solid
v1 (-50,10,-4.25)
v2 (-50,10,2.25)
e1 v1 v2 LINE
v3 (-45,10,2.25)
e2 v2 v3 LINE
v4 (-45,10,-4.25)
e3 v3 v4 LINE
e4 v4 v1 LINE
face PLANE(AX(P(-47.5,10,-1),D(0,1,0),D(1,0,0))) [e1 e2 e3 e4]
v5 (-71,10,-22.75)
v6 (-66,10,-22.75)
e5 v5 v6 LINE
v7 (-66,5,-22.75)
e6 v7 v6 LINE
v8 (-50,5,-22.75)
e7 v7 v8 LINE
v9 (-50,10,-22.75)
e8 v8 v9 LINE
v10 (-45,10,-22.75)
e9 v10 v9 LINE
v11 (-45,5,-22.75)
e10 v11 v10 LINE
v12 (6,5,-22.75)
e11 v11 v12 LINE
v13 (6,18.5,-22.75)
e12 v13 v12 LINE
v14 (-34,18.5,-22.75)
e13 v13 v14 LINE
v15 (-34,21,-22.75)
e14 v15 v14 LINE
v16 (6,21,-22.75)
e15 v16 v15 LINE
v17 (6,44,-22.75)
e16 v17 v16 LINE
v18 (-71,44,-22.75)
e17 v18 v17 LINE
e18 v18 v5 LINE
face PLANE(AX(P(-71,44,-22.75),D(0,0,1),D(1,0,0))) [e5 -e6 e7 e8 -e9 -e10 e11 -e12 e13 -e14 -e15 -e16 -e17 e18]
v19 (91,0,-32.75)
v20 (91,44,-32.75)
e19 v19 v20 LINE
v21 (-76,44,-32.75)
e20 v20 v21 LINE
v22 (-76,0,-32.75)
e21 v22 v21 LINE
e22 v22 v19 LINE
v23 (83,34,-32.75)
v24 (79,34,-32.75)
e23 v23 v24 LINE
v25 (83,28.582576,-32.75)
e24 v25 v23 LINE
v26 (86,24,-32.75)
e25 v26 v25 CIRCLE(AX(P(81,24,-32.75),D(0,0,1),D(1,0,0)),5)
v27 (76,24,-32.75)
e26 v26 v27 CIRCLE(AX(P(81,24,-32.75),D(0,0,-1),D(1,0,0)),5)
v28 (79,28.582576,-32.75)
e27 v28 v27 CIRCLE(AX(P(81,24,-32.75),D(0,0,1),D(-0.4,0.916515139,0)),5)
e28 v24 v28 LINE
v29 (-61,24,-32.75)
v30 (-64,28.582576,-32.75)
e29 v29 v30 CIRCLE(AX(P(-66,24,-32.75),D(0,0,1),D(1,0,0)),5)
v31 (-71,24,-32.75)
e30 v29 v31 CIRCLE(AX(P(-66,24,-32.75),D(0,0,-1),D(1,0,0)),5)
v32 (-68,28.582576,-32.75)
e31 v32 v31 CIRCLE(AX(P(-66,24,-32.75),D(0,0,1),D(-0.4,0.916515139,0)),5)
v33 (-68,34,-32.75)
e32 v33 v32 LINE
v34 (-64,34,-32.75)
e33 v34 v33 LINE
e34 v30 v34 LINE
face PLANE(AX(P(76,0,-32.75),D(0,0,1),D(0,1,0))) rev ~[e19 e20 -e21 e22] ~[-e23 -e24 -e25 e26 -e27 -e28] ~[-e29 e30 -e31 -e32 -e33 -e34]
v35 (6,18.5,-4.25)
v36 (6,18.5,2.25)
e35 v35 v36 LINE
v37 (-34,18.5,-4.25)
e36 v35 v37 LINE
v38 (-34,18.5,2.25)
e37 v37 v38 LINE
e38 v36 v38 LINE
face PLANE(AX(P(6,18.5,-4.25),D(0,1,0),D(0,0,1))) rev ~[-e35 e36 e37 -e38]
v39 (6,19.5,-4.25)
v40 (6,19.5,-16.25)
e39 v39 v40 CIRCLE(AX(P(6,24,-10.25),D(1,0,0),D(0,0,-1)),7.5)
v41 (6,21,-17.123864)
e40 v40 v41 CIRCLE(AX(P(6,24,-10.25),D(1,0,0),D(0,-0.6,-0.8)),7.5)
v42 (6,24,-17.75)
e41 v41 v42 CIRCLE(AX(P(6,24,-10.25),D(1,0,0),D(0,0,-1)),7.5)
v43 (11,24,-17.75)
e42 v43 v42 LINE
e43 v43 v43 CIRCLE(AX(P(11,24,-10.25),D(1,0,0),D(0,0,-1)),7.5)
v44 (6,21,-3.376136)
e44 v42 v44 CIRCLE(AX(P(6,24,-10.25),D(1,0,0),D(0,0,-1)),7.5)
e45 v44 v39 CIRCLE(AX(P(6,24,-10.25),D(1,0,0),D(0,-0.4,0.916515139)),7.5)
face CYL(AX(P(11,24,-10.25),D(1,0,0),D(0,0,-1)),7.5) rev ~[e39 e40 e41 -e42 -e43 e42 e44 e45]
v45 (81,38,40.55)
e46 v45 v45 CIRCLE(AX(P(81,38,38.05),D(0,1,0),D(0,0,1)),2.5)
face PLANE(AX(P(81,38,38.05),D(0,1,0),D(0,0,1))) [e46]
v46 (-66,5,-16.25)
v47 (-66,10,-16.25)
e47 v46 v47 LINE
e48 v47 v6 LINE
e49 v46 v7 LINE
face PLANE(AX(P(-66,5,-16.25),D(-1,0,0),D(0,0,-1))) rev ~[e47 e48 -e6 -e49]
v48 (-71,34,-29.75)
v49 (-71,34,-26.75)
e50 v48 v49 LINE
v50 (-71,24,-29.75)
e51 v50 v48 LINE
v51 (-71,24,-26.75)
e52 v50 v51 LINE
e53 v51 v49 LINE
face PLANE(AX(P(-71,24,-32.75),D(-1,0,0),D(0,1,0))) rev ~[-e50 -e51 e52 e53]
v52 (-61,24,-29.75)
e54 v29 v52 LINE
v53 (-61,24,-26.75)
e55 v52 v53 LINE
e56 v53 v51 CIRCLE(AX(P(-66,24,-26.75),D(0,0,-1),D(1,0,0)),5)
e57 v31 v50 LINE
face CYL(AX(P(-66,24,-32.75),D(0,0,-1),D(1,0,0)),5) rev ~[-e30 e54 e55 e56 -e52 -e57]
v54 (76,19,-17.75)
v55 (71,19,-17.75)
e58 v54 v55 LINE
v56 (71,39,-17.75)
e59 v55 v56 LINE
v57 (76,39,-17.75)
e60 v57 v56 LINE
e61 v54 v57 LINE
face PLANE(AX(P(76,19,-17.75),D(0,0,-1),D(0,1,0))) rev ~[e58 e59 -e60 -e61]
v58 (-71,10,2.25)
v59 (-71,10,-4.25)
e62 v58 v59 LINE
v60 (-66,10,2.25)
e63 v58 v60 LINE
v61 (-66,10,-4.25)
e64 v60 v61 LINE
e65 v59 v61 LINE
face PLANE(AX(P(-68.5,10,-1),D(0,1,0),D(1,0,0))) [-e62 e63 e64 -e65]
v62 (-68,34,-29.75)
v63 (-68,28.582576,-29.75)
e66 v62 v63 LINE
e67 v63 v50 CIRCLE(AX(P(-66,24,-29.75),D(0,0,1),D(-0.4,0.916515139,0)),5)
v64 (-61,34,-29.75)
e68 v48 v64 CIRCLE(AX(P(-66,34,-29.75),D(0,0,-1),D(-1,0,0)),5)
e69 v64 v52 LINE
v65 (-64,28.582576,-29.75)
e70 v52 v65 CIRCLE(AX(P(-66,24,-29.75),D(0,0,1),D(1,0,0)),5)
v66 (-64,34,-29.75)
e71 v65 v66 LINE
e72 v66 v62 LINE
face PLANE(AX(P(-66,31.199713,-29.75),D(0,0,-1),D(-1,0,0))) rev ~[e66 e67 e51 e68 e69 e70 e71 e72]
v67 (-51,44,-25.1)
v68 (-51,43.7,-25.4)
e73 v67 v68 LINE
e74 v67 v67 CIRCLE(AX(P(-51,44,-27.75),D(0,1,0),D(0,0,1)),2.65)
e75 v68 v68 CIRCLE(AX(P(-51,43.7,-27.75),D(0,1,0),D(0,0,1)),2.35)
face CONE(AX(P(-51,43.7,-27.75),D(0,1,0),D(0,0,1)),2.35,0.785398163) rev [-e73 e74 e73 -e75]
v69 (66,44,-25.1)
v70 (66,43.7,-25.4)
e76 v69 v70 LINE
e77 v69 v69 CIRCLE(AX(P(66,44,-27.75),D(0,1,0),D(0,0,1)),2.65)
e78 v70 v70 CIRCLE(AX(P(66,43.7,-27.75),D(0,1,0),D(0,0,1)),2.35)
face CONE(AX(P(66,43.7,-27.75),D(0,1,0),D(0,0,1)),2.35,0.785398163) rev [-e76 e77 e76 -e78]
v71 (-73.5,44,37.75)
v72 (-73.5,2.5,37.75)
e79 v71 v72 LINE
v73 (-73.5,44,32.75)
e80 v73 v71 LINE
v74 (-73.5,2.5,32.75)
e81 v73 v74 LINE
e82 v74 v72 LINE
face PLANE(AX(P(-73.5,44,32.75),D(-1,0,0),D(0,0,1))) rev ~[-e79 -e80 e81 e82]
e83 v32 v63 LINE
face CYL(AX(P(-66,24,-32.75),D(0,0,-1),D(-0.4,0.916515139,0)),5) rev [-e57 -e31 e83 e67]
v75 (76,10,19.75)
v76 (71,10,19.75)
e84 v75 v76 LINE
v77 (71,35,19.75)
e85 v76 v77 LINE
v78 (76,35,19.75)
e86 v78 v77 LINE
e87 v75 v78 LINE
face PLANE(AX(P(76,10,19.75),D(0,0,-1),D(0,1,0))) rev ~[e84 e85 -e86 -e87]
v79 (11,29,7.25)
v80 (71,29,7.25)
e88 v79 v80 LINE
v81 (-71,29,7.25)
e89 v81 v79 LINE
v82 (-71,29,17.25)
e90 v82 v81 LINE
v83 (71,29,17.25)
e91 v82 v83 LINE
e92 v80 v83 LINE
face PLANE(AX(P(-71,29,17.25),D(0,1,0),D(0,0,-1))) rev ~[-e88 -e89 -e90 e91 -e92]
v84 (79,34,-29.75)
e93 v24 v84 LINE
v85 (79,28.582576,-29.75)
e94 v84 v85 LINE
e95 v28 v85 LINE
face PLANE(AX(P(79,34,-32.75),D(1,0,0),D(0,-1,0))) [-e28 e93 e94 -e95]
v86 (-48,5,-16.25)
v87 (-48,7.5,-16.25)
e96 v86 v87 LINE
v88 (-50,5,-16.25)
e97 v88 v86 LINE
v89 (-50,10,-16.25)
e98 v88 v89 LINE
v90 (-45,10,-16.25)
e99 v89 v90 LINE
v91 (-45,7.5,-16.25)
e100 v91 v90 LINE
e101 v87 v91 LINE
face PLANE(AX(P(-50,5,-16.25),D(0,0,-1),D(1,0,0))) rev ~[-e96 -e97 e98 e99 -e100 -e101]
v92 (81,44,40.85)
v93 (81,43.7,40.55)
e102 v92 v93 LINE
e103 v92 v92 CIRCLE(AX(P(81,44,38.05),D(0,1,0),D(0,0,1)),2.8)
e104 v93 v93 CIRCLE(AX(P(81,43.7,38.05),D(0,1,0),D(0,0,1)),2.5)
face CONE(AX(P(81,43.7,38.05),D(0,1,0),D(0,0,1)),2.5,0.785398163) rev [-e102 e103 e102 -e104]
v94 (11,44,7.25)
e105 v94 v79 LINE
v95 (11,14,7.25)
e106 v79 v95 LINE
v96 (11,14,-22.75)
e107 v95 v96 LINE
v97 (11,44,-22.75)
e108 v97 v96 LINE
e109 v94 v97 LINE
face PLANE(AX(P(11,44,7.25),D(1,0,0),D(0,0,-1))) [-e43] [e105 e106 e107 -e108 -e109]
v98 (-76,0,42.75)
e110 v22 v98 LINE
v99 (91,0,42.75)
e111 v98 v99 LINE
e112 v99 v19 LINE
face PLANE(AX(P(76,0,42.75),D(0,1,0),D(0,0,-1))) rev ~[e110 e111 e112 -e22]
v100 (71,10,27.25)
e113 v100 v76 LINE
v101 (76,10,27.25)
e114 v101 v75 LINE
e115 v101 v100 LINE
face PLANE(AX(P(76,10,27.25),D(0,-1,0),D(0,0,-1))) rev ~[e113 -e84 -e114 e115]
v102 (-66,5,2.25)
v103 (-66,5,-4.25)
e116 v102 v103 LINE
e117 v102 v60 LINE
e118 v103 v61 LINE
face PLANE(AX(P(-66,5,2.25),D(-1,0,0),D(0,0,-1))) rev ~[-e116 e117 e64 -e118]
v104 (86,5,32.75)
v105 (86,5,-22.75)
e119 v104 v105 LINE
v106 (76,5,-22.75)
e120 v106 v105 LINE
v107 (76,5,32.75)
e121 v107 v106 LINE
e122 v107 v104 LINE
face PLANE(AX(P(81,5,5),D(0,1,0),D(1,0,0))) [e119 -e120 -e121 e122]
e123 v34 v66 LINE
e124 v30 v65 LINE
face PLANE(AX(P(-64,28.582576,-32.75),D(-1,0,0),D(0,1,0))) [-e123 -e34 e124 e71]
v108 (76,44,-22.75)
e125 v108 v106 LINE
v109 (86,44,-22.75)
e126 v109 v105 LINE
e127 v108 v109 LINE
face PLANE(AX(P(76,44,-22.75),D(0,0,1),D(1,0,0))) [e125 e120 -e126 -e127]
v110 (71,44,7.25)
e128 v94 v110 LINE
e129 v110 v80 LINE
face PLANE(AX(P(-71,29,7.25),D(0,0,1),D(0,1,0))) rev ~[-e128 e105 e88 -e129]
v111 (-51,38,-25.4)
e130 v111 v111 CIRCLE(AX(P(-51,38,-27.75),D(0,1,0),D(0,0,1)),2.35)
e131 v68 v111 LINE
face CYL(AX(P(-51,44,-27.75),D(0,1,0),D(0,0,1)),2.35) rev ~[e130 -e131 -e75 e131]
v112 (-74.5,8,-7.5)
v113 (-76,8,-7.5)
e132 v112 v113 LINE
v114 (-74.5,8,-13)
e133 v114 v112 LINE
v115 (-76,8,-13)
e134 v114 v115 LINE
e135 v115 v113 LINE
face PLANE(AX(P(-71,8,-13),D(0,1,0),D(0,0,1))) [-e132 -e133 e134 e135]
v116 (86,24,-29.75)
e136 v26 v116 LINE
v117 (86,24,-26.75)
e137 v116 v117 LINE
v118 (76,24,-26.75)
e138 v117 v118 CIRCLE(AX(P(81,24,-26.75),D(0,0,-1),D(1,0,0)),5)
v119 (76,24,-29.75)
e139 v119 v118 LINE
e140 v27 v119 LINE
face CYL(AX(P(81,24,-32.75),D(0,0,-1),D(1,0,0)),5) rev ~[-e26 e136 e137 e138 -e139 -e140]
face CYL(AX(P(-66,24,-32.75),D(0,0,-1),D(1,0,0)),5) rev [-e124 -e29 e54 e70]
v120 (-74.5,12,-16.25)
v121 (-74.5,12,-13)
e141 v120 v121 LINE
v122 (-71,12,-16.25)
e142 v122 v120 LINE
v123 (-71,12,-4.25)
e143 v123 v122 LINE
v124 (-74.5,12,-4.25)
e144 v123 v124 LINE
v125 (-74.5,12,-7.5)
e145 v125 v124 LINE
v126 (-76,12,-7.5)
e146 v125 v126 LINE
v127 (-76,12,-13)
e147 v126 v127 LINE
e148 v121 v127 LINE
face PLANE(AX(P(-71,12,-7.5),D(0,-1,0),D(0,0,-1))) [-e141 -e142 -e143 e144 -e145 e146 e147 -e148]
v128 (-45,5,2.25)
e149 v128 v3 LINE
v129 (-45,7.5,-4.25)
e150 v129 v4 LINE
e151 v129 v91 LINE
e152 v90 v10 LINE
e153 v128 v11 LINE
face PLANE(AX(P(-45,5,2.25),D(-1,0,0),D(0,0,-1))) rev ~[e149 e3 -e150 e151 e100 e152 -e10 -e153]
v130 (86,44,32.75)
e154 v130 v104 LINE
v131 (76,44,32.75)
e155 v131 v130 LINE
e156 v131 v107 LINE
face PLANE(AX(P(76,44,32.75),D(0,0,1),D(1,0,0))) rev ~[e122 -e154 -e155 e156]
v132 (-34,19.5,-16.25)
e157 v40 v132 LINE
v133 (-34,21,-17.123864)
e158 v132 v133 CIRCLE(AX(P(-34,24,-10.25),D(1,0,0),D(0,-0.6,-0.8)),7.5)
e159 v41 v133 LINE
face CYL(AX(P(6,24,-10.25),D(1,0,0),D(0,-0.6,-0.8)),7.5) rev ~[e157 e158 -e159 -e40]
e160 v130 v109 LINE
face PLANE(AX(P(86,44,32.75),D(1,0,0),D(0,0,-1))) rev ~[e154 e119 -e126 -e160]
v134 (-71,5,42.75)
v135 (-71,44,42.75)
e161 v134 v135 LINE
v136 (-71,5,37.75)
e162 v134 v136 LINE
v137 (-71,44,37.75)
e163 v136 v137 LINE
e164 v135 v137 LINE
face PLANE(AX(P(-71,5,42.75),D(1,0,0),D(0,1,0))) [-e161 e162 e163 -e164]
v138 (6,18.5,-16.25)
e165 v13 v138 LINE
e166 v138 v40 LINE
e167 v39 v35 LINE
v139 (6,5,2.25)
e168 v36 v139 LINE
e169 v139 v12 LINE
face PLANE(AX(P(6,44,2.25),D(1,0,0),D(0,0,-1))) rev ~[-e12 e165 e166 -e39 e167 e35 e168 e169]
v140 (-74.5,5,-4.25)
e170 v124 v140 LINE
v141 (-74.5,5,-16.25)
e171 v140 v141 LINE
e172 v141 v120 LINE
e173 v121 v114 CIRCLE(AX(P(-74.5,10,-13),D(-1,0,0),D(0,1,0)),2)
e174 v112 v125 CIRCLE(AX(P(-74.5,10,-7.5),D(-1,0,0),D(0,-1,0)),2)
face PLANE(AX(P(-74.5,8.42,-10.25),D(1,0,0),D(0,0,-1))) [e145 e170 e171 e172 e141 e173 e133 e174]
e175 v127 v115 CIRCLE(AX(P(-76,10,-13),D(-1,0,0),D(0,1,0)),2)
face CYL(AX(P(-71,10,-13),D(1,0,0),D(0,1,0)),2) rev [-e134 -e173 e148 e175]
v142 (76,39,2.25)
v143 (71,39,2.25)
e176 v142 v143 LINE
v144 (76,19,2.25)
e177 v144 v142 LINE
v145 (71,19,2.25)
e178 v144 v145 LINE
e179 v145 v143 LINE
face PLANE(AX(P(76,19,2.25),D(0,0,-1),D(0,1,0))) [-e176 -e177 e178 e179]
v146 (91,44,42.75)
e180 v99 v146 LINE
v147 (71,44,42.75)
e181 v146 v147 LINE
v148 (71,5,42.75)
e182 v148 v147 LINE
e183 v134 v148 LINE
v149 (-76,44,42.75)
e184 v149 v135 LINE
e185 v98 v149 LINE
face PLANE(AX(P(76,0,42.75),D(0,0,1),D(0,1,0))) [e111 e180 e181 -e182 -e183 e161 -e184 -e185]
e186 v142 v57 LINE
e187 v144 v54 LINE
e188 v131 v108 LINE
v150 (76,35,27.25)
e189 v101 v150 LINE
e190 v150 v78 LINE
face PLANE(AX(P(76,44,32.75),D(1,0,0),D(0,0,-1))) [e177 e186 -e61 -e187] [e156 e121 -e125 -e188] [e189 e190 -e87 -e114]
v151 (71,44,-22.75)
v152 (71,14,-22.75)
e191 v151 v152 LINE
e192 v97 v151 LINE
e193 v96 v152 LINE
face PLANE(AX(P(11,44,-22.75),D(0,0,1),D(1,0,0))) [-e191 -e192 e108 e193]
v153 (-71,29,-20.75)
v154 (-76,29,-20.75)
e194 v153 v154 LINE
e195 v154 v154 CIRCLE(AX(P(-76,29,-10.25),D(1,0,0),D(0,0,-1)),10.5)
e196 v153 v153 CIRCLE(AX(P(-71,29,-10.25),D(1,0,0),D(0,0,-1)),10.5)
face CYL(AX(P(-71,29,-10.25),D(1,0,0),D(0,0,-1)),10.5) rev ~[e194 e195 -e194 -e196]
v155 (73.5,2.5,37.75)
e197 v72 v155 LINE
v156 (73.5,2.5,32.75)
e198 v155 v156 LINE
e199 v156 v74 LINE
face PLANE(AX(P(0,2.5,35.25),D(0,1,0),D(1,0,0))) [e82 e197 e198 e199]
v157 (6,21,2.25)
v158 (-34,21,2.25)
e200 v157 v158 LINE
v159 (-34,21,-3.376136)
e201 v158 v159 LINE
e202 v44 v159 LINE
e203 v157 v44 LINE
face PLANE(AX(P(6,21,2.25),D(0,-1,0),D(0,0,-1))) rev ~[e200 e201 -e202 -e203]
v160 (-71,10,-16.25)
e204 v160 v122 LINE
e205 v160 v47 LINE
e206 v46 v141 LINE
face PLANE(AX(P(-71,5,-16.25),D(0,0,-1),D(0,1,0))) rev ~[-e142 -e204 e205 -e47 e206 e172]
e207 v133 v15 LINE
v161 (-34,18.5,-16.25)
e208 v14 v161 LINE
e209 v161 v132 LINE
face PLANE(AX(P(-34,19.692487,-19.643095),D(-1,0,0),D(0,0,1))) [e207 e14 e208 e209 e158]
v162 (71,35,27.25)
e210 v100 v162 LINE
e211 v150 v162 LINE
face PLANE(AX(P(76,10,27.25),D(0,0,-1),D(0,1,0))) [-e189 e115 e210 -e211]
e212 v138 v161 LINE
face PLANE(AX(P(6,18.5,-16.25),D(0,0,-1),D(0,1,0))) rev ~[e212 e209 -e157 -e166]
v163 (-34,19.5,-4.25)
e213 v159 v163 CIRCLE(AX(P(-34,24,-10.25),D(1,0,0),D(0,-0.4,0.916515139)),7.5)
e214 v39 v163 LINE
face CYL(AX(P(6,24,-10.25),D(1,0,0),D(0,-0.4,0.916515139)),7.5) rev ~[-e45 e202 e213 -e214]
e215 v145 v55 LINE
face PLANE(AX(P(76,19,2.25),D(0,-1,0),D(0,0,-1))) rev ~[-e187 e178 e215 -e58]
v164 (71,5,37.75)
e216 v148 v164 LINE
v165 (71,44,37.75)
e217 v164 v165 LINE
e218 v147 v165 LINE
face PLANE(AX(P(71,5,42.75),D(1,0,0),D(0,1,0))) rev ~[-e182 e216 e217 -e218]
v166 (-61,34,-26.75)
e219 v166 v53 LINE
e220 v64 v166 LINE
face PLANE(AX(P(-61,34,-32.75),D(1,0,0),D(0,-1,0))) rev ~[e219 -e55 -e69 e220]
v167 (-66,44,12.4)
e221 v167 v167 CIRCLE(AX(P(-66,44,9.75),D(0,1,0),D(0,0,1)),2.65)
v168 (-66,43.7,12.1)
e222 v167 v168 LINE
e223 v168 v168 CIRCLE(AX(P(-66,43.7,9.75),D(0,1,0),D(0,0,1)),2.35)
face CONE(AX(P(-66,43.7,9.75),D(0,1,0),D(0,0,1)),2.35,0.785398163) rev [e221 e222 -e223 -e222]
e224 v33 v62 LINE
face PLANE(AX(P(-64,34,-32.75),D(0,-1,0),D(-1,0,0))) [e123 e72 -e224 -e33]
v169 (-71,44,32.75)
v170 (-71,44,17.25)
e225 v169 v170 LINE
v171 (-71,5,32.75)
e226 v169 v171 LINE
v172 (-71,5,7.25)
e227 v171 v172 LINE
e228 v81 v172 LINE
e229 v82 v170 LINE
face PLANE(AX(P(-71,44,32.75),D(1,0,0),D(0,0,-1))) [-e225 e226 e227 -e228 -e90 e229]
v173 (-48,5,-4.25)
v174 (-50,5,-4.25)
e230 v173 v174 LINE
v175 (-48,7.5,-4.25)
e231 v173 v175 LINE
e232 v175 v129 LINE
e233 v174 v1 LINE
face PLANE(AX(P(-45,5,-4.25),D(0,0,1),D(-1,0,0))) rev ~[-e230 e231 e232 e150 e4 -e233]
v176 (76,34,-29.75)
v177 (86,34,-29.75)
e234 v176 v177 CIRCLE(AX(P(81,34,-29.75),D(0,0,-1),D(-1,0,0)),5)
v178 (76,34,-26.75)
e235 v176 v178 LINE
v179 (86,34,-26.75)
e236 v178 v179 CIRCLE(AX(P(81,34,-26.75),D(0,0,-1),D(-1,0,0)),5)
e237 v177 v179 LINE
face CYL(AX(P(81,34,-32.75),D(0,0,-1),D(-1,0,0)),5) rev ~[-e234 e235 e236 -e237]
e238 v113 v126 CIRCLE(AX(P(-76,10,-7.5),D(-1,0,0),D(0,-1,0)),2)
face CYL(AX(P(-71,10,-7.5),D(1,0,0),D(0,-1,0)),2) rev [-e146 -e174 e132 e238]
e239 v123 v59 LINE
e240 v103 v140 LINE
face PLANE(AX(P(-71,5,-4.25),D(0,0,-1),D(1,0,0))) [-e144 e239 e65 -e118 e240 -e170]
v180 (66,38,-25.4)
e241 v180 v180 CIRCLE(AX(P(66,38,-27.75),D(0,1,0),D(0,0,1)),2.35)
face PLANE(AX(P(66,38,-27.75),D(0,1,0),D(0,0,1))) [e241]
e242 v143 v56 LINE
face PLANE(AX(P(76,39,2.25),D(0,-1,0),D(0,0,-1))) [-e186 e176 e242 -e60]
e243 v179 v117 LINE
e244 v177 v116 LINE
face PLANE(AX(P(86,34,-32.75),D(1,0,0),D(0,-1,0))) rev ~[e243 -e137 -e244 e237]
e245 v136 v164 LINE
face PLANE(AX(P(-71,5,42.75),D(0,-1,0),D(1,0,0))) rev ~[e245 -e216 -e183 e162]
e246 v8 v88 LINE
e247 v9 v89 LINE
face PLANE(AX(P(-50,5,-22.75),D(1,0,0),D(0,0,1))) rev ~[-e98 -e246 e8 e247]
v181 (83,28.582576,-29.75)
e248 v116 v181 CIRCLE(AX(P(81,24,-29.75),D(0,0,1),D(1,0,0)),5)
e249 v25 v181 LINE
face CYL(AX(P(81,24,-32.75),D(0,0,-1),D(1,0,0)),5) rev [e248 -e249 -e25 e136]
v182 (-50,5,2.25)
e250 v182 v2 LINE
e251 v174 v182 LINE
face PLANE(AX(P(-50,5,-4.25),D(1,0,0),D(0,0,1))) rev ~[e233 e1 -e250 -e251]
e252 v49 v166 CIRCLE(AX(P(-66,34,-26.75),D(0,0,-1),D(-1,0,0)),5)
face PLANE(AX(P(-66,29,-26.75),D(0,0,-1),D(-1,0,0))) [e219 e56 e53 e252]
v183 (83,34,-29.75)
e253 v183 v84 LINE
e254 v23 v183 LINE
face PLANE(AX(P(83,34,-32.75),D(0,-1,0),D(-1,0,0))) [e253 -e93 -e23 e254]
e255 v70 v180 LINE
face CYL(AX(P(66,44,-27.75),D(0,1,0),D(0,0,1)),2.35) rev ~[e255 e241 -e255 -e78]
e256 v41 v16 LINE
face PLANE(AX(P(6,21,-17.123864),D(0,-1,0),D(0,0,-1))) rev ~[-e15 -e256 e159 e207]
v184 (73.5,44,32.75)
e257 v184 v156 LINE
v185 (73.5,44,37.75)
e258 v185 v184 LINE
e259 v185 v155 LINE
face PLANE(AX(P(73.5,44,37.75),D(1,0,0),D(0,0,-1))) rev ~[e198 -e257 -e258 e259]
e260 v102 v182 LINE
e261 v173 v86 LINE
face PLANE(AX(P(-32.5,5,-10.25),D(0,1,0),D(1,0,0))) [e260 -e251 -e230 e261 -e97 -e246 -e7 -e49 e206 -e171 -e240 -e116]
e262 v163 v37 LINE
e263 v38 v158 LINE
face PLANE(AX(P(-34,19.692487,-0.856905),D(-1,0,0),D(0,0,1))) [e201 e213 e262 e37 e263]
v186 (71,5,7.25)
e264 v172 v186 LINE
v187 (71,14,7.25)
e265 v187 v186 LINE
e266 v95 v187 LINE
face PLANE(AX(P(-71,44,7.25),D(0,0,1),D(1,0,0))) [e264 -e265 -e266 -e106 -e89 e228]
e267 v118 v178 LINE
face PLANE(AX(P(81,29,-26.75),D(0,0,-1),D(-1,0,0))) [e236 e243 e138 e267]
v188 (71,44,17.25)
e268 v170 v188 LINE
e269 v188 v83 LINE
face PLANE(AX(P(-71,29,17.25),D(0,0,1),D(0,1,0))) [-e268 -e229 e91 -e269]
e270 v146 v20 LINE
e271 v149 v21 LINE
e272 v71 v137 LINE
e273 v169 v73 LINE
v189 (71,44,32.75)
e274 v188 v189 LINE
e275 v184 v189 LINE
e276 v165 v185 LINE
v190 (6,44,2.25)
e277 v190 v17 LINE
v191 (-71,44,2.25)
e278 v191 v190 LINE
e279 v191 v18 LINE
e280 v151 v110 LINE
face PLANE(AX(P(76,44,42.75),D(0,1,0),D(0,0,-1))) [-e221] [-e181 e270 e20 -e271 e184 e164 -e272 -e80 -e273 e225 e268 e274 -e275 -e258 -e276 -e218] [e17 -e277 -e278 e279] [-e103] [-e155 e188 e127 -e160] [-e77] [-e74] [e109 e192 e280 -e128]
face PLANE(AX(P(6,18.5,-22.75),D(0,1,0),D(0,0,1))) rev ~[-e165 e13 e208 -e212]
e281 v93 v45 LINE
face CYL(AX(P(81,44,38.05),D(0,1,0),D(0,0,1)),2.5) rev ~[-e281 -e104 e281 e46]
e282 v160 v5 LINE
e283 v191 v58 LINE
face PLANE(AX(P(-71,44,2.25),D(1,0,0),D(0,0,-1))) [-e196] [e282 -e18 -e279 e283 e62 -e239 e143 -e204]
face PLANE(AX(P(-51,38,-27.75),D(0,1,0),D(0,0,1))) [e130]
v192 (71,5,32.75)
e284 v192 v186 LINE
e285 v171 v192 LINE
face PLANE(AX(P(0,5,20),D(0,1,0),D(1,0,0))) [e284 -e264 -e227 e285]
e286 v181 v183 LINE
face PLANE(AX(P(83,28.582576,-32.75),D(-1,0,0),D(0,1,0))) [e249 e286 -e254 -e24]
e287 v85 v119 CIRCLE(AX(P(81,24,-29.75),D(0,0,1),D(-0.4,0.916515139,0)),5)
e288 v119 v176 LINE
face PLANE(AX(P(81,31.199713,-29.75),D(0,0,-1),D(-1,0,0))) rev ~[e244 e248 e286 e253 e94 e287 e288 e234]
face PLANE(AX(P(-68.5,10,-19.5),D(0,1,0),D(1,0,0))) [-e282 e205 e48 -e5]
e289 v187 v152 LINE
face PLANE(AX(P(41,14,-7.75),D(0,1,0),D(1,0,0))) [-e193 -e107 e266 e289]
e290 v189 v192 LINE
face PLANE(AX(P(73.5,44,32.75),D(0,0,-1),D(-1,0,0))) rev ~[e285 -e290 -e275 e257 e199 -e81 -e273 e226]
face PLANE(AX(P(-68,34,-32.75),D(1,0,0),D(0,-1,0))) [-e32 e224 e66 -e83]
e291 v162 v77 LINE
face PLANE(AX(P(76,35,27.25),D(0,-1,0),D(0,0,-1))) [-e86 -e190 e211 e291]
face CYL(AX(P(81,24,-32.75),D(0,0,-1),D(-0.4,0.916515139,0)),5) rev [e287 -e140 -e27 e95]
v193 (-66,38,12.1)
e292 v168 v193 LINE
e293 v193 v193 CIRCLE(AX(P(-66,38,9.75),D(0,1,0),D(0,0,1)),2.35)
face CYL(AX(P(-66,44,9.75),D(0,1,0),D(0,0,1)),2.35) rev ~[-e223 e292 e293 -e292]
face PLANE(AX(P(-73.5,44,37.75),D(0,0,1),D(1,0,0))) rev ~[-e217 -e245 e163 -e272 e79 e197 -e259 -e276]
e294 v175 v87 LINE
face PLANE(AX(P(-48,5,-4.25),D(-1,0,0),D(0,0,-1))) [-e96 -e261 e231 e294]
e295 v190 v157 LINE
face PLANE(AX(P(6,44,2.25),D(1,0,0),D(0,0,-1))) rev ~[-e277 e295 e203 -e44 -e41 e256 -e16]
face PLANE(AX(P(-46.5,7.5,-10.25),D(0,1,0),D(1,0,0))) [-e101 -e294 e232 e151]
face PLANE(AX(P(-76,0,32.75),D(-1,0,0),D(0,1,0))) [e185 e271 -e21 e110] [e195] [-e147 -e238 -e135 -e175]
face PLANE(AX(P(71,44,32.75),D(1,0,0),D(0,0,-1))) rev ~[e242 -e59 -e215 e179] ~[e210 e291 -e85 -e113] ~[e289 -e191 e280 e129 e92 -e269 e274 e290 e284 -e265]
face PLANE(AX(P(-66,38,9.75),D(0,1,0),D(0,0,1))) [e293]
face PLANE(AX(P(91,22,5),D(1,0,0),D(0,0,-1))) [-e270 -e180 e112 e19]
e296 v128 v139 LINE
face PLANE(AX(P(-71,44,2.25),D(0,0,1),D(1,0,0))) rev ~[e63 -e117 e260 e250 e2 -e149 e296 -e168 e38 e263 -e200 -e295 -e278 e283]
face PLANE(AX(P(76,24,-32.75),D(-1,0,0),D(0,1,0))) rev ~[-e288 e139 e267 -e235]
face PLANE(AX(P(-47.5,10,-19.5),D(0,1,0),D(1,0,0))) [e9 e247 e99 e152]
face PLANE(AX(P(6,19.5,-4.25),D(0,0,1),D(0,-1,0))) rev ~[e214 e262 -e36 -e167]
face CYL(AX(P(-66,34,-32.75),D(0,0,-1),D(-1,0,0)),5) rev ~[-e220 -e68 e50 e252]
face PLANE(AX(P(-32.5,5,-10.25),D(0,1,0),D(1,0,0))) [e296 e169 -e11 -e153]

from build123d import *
from build123d.topology import SkipClean

# Parameters (mm, degrees)
SKETCH1_W           = 152
SKETCH1_H           = 65.5
BOSS_EXTRUDE1_DEPTH = 44
SKETCH2_W           = 142
SKETCH2_H           = 25.5
CUT_EXTRUDE1_DEPTH  = 39
SKETCH4_W           = 60
SKETCH4_H           = 30
CUT_EXTRUDE2_DEPTH  = 30
BOSS_EXTRUDE3_REACH = 158.9
SKETCH5_W           = 10
SKETCH5_H           = 15
SKETCH9_W           = 152
SKETCH9_H           = 44
BOSS_EXTRUDE4_DEPTH = 10
CUT_EXTRUDE5_DEPTH  = 41.5
SKETCH11_W          = 142
SKETCH11_H          = 39
CUT_EXTRUDE6_DEPTH  = 5
SKETCH16_W          = 77
SKETCH16_H          = 25
CUT_EXTRUDE8_DEPTH  = 39
SKETCH17_R          = 10.5
CUT_EXTRUDE9_DEPTH  = 5
SKETCH18_R          = 7.5
CUT_EXTRUDE10_DEPTH = 5
SKETCH20_W          = 75.5
SKETCH20_H          = 44
BOSS_EXTRUDE6_DEPTH = 15
SKETCH21_W          = 10
SKETCH21_H          = 55.5
CUT_EXTRUDE12_DEPTH = 39
SKETCH22_W          = 20
SKETCH22_H          = 20
SKETCH22_W_2        = 7.5
SKETCH22_H_2        = 25
CUT_EXTRUDE13_DEPTH = 5
CUT_EXTRUDE14_DEPTH = 3.5
SKETCH24_W          = 5
SKETCH24_H          = 6.5
BOSS_EXTRUDE7_DEPTH = 5
SKETCH24_3_W        = 3
SKETCH24_3_H        = 12
BOSS_EXTRUDE8_DEPTH = 2.5
CUT_EXTRUDE7_DEPTH  = 6
BOSS_EXTRUDE5_DEPTH = 3
SKETCH19_R          = 2.35
SKETCH19_R_2        = 2.5
CUT_EXTRUDE11_DEPTH = 6
BOSS_EXTRUDE9_DEPTH = 40
CHAMFER1_SIZE       = 0.3


with BuildPart() as part:
    # Sketch1 → Boss-Extrude1 (new body)
    with BuildSketch(Plane(origin=(0, 0, 0), x_dir=(1, 0, 0), z_dir=(0, 1, 0))):
        Rectangle(SKETCH1_W, SKETCH1_H)
    extrude(amount=BOSS_EXTRUDE1_DEPTH)

    # Sketch2 → Cut-Extrude1 (cut)
    with BuildSketch(Plane(origin=(0, 44, 0), x_dir=(1, 0, 0), z_dir=(0, 1, 0))):
        with Locations((0, -20)):
            Rectangle(SKETCH2_W, SKETCH2_H)
    extrude(amount=-CUT_EXTRUDE1_DEPTH, mode=Mode.SUBTRACT)

    # Sketch4 → Cut-Extrude2 (cut)
    with BuildSketch(Plane(origin=(0, 44, 0), x_dir=(1, 0, 0), z_dir=(0, 1, 0))):
        with Locations((41, 7.75)):
            Rectangle(SKETCH4_W, SKETCH4_H)
    extrude(amount=-CUT_EXTRUDE2_DEPTH, mode=Mode.SUBTRACT)

    # Boss-Extrude3: up to this face of the body (flat: up to its plane)
    boss_extrude3_end = Plane(part.part.faces().sort_by_distance((71, 26.637767221, 6.817102138))[0])
    # Sketch5 → Boss-Extrude3 (add, up to the picked face)
    with BuildSketch(Plane(origin=(-71, 0, 0), x_dir=(0, 0, -1), z_dir=(1, 0, 0)), mode=Mode.PRIVATE) as boss_extrude3_sk1:
        with Locations((-12.25, 36.5)):
            Rectangle(SKETCH5_W, SKETCH5_H)
    boss_extrude3_tool1 = split(extrude(boss_extrude3_sk1.sketch, amount=BOSS_EXTRUDE3_REACH, mode=Mode.PRIVATE), bisect_by=boss_extrude3_end, keep=Keep.BOTH, mode=Mode.PRIVATE)
    add(boss_extrude3_tool1.solids().sort_by(Axis((-71, 36.5, 12.25), (1, 0, 0)))[0])

    # Sketch9 → Boss-Extrude4 (add)
    with BuildSketch(Plane.XY.offset(32.75)):
        with Locations((0, 22)):
            Rectangle(SKETCH9_W, SKETCH9_H)
    extrude(amount=BOSS_EXTRUDE4_DEPTH)

    # Sketch10 → Cut-Extrude5 (cut)
    with BuildSketch(Plane(origin=(0, 44, 0), x_dir=(1, 0, 0), z_dir=(0, 1, 0))):
        Polygon((-73.5, -32.75), (-73.5, -37.75), (73.5, -37.75), (73.5, -32.75), (71, -32.75), (-71, -32.75), align=None)
    extrude(amount=-CUT_EXTRUDE5_DEPTH, mode=Mode.SUBTRACT)

    # Sketch11 → Cut-Extrude6 (cut)
    with BuildSketch(Plane.XY.offset(42.75)):
        with Locations((0, 24.5)):
            Rectangle(SKETCH11_W, SKETCH11_H)
    extrude(amount=-CUT_EXTRUDE6_DEPTH, mode=Mode.SUBTRACT)

    # Sketch16 → Cut-Extrude8 (cut)
    with BuildSketch(Plane(origin=(0, 44, 0), x_dir=(1, 0, 0), z_dir=(0, 1, 0))):
        with Locations((-32.5, 10.25)):
            Rectangle(SKETCH16_W, SKETCH16_H)
    extrude(amount=-CUT_EXTRUDE8_DEPTH, mode=Mode.SUBTRACT)

    # Sketch17 → Cut-Extrude9 (cut)
    with BuildSketch(Plane(origin=(-71, 0, 0), x_dir=(0, 0, -1), z_dir=(1, 0, 0))):
        with Locations((10.25, 29)):
            Circle(SKETCH17_R)
        with BuildLine():
            Line((7.5, 12), (13, 12))
            ThreePointArc((13, 12), (15, 10), (13, 8))
            Line((13, 8), (7.5, 8))
            ThreePointArc((7.5, 8), (5.5, 10), (7.5, 12))
        make_face()
    extrude(amount=-CUT_EXTRUDE9_DEPTH, mode=Mode.SUBTRACT)

    # Sketch18 → Cut-Extrude10 (cut)
    with BuildSketch(Plane(origin=(11, 0, 0), x_dir=(0, 0, -1), z_dir=(1, 0, 0))):
        with Locations((10.25, 24)):
            Circle(SKETCH18_R)
    extrude(amount=-CUT_EXTRUDE10_DEPTH, mode=Mode.SUBTRACT)

    # Sketch20 → Boss-Extrude6 (add)
    with BuildSketch(Plane(origin=(76, 0, 0), x_dir=(0, 0, -1), z_dir=(1, 0, 0))):
        with Locations((-5, 22)):
            Rectangle(SKETCH20_W, SKETCH20_H)
    extrude(amount=BOSS_EXTRUDE6_DEPTH)

    # Sketch21 → Cut-Extrude12 (cut)
    with BuildSketch(Plane(origin=(0, 44, 0), x_dir=(1, 0, 0), z_dir=(0, 1, 0))):
        with Locations((81, -5)):
            Rectangle(SKETCH21_W, SKETCH21_H)
    extrude(amount=-CUT_EXTRUDE12_DEPTH, mode=Mode.SUBTRACT)

    # Sketch22 → Cut-Extrude13 (cut)
    with BuildSketch(Plane(origin=(76, 0, 0), x_dir=(0, 0, -1), z_dir=(1, 0, 0))):
        with Locations((7.75, 29)):
            Rectangle(SKETCH22_W, SKETCH22_H)
        with Locations((-23.5, 22.5)):
            Rectangle(SKETCH22_W_2, SKETCH22_H_2)
    extrude(amount=-CUT_EXTRUDE13_DEPTH, mode=Mode.SUBTRACT)

    # Sketch23 → Cut-Extrude14 (cut)
    with BuildSketch(Plane(origin=(-71, 0, 0), x_dir=(0, 0, -1), z_dir=(1, 0, 0))):
        with BuildLine():
            ThreePointArc((7.5, 8), (5.5, 10), (7.5, 12))
            Line((7.5, 12), (4.25, 12))
            Line((4.25, 12), (4.25, 5))
            Line((4.25, 5), (16.25, 5))
            Line((16.25, 5), (16.25, 12))
            Line((16.25, 12), (13, 12))
            ThreePointArc((13, 12), (15, 10), (13, 8))
            Line((13, 8), (7.5, 8))
        make_face()
    extrude(amount=-CUT_EXTRUDE14_DEPTH, mode=Mode.SUBTRACT)

    # Sketch24 → Boss-Extrude7 (add)
    with BuildSketch(Plane(origin=(0, 5, 0), x_dir=(1, 0, 0), z_dir=(0, 1, 0))):
        with Locations((-68.5, 1)):
            Rectangle(SKETCH24_W, SKETCH24_H)
        with Locations((-68.5, 19.5)):
            Rectangle(SKETCH24_W, SKETCH24_H)
        Polygon((-45, -2.25), (-45, 4.25), (-48, 4.25), (-50, 4.25), (-50, -2.25), align=None)
        Polygon((-45, 22.75), (-50, 22.75), (-50, 16.25), (-48, 16.25), (-45, 16.25), align=None)
    extrude(amount=BOSS_EXTRUDE7_DEPTH)

    # Sketch24<3> → Boss-Extrude8 (add)
    with BuildSketch(Plane(origin=(0, 5, 0), x_dir=(1, 0, 0), z_dir=(0, 1, 0))):
        with Locations((-46.5, 10.25)):
            Rectangle(SKETCH24_3_W, SKETCH24_3_H)
    extrude(amount=BOSS_EXTRUDE8_DEPTH)

    # Sketch13 → Cut-Extrude7 (cut)
    with BuildSketch(Plane(origin=(0, 0, -32.75), x_dir=(-1, 0, 0), z_dir=(0, 0, -1))):
        with BuildLine():
            Line((-86, 34), (-86, 24))
            ThreePointArc((-86, 24), (-81, 19), (-76, 24))
            Line((-76, 24), (-76, 34))
            ThreePointArc((-76, 34), (-81, 39), (-86, 34))
        make_face()
        with BuildLine():
            Line((61, 34), (61, 24))
            ThreePointArc((61, 24), (66, 19), (71, 24))
            Line((71, 24), (71, 34))
            ThreePointArc((71, 34), (66, 39), (61, 34))
        make_face()
    extrude(amount=-CUT_EXTRUDE7_DEPTH, mode=Mode.SUBTRACT)

    # Sketch15 → Boss-Extrude5 (add)
    with SkipClean():  # the faces are left unmerged after this step: merging them gives an invalid solid
        with BuildSketch(Plane(origin=(0, 0, -32.75), x_dir=(-1, 0, 0), z_dir=(0, 0, -1))):
            with BuildLine():
                ThreePointArc((-76, 34), (-81, 39), (-86, 34))
                Line((-86, 34), (-86, 24))
                ThreePointArc((-86, 24), (-85.183300133, 26.738612788), (-83, 28.582575695))
                Line((-83, 28.582575695), (-83, 34))
                Line((-83, 34), (-79, 34))
                Line((-79, 34), (-79, 28.582575695))
                ThreePointArc((-79, 28.582575695), (-76.816699867, 26.738612788), (-76, 24))
                Line((-76, 24), (-76, 34))
            make_face()
            with BuildLine():
                ThreePointArc((71, 34), (66, 39), (61, 34))
                Line((61, 34), (61, 24))
                ThreePointArc((61, 24), (61.816699867, 26.738612788), (64, 28.582575695))
                Line((64, 28.582575695), (64, 34))
                Line((64, 34), (68, 34))
                Line((68, 34), (68, 28.582575695))
                ThreePointArc((68, 28.582575695), (70.183300133, 26.738612788), (71, 24))
                Line((71, 24), (71, 34))
            make_face()
        extrude(amount=-BOSS_EXTRUDE5_DEPTH)

    # Sketch19 → Cut-Extrude11 (cut)
    with SkipClean():  # the faces are left unmerged after this step: merging them gives an invalid solid
        with BuildSketch(Plane(origin=(0, 44, 0), x_dir=(1, 0, 0), z_dir=(0, 1, 0))):
            with Locations(Location((-66, -9.75, 0), (0, 0, 270))):
                Circle(SKETCH19_R)
            with Locations(Location((-51, 27.75, 0), (0, 0, 270))):
                Circle(SKETCH19_R)
            with Locations(Location((66, 27.75, 0), (0, 0, 270))):
                Circle(SKETCH19_R)
            with Locations(Location((81, -38.05, 0), (0, 0, 270))):
                Circle(SKETCH19_R_2)
        extrude(amount=-CUT_EXTRUDE11_DEPTH, mode=Mode.SUBTRACT)

    # Sketch25 → Boss-Extrude9 (add)
    with SkipClean():  # the faces are left unmerged after this step: merging them gives an invalid solid
        with BuildSketch(Plane.ZY.offset(-6)):
            with BuildLine():
                Line((-22.75, 21), (-22.75, 18.5))
                Line((-22.75, 18.5), (-16.25, 18.5))
                Line((-16.25, 18.5), (-16.25, 19.5))
                ThreePointArc((-16.25, 19.5), (-16.730477654, 20.224631227), (-17.123863542, 21))
                Line((-17.123863542, 21), (-22.75, 21))
            make_face()
            with BuildLine():
                Line((-4.25, 18.5), (2.25, 18.5))
                Line((2.25, 18.5), (2.25, 21))
                Line((2.25, 21), (-3.376136458, 21))
                ThreePointArc((-3.376136458, 21), (-3.769522346, 20.224631227), (-4.25, 19.5))
                Line((-4.25, 19.5), (-4.25, 18.5))
            make_face()
        extrude(amount=BOSS_EXTRUDE9_DEPTH)

    # Chamfer1
    chamfer1_edges = [part.edges().sort_by_distance(p)[0] for p in [
        (-66, 44, 7.4),
        (-51, 44, -30.1),
        (66, 44, -30.1),
        (81, 44, 35.55),
    ]]
    chamfer(chamfer1_edges, length=CHAMFER1_SIZE)


solid = part.part
